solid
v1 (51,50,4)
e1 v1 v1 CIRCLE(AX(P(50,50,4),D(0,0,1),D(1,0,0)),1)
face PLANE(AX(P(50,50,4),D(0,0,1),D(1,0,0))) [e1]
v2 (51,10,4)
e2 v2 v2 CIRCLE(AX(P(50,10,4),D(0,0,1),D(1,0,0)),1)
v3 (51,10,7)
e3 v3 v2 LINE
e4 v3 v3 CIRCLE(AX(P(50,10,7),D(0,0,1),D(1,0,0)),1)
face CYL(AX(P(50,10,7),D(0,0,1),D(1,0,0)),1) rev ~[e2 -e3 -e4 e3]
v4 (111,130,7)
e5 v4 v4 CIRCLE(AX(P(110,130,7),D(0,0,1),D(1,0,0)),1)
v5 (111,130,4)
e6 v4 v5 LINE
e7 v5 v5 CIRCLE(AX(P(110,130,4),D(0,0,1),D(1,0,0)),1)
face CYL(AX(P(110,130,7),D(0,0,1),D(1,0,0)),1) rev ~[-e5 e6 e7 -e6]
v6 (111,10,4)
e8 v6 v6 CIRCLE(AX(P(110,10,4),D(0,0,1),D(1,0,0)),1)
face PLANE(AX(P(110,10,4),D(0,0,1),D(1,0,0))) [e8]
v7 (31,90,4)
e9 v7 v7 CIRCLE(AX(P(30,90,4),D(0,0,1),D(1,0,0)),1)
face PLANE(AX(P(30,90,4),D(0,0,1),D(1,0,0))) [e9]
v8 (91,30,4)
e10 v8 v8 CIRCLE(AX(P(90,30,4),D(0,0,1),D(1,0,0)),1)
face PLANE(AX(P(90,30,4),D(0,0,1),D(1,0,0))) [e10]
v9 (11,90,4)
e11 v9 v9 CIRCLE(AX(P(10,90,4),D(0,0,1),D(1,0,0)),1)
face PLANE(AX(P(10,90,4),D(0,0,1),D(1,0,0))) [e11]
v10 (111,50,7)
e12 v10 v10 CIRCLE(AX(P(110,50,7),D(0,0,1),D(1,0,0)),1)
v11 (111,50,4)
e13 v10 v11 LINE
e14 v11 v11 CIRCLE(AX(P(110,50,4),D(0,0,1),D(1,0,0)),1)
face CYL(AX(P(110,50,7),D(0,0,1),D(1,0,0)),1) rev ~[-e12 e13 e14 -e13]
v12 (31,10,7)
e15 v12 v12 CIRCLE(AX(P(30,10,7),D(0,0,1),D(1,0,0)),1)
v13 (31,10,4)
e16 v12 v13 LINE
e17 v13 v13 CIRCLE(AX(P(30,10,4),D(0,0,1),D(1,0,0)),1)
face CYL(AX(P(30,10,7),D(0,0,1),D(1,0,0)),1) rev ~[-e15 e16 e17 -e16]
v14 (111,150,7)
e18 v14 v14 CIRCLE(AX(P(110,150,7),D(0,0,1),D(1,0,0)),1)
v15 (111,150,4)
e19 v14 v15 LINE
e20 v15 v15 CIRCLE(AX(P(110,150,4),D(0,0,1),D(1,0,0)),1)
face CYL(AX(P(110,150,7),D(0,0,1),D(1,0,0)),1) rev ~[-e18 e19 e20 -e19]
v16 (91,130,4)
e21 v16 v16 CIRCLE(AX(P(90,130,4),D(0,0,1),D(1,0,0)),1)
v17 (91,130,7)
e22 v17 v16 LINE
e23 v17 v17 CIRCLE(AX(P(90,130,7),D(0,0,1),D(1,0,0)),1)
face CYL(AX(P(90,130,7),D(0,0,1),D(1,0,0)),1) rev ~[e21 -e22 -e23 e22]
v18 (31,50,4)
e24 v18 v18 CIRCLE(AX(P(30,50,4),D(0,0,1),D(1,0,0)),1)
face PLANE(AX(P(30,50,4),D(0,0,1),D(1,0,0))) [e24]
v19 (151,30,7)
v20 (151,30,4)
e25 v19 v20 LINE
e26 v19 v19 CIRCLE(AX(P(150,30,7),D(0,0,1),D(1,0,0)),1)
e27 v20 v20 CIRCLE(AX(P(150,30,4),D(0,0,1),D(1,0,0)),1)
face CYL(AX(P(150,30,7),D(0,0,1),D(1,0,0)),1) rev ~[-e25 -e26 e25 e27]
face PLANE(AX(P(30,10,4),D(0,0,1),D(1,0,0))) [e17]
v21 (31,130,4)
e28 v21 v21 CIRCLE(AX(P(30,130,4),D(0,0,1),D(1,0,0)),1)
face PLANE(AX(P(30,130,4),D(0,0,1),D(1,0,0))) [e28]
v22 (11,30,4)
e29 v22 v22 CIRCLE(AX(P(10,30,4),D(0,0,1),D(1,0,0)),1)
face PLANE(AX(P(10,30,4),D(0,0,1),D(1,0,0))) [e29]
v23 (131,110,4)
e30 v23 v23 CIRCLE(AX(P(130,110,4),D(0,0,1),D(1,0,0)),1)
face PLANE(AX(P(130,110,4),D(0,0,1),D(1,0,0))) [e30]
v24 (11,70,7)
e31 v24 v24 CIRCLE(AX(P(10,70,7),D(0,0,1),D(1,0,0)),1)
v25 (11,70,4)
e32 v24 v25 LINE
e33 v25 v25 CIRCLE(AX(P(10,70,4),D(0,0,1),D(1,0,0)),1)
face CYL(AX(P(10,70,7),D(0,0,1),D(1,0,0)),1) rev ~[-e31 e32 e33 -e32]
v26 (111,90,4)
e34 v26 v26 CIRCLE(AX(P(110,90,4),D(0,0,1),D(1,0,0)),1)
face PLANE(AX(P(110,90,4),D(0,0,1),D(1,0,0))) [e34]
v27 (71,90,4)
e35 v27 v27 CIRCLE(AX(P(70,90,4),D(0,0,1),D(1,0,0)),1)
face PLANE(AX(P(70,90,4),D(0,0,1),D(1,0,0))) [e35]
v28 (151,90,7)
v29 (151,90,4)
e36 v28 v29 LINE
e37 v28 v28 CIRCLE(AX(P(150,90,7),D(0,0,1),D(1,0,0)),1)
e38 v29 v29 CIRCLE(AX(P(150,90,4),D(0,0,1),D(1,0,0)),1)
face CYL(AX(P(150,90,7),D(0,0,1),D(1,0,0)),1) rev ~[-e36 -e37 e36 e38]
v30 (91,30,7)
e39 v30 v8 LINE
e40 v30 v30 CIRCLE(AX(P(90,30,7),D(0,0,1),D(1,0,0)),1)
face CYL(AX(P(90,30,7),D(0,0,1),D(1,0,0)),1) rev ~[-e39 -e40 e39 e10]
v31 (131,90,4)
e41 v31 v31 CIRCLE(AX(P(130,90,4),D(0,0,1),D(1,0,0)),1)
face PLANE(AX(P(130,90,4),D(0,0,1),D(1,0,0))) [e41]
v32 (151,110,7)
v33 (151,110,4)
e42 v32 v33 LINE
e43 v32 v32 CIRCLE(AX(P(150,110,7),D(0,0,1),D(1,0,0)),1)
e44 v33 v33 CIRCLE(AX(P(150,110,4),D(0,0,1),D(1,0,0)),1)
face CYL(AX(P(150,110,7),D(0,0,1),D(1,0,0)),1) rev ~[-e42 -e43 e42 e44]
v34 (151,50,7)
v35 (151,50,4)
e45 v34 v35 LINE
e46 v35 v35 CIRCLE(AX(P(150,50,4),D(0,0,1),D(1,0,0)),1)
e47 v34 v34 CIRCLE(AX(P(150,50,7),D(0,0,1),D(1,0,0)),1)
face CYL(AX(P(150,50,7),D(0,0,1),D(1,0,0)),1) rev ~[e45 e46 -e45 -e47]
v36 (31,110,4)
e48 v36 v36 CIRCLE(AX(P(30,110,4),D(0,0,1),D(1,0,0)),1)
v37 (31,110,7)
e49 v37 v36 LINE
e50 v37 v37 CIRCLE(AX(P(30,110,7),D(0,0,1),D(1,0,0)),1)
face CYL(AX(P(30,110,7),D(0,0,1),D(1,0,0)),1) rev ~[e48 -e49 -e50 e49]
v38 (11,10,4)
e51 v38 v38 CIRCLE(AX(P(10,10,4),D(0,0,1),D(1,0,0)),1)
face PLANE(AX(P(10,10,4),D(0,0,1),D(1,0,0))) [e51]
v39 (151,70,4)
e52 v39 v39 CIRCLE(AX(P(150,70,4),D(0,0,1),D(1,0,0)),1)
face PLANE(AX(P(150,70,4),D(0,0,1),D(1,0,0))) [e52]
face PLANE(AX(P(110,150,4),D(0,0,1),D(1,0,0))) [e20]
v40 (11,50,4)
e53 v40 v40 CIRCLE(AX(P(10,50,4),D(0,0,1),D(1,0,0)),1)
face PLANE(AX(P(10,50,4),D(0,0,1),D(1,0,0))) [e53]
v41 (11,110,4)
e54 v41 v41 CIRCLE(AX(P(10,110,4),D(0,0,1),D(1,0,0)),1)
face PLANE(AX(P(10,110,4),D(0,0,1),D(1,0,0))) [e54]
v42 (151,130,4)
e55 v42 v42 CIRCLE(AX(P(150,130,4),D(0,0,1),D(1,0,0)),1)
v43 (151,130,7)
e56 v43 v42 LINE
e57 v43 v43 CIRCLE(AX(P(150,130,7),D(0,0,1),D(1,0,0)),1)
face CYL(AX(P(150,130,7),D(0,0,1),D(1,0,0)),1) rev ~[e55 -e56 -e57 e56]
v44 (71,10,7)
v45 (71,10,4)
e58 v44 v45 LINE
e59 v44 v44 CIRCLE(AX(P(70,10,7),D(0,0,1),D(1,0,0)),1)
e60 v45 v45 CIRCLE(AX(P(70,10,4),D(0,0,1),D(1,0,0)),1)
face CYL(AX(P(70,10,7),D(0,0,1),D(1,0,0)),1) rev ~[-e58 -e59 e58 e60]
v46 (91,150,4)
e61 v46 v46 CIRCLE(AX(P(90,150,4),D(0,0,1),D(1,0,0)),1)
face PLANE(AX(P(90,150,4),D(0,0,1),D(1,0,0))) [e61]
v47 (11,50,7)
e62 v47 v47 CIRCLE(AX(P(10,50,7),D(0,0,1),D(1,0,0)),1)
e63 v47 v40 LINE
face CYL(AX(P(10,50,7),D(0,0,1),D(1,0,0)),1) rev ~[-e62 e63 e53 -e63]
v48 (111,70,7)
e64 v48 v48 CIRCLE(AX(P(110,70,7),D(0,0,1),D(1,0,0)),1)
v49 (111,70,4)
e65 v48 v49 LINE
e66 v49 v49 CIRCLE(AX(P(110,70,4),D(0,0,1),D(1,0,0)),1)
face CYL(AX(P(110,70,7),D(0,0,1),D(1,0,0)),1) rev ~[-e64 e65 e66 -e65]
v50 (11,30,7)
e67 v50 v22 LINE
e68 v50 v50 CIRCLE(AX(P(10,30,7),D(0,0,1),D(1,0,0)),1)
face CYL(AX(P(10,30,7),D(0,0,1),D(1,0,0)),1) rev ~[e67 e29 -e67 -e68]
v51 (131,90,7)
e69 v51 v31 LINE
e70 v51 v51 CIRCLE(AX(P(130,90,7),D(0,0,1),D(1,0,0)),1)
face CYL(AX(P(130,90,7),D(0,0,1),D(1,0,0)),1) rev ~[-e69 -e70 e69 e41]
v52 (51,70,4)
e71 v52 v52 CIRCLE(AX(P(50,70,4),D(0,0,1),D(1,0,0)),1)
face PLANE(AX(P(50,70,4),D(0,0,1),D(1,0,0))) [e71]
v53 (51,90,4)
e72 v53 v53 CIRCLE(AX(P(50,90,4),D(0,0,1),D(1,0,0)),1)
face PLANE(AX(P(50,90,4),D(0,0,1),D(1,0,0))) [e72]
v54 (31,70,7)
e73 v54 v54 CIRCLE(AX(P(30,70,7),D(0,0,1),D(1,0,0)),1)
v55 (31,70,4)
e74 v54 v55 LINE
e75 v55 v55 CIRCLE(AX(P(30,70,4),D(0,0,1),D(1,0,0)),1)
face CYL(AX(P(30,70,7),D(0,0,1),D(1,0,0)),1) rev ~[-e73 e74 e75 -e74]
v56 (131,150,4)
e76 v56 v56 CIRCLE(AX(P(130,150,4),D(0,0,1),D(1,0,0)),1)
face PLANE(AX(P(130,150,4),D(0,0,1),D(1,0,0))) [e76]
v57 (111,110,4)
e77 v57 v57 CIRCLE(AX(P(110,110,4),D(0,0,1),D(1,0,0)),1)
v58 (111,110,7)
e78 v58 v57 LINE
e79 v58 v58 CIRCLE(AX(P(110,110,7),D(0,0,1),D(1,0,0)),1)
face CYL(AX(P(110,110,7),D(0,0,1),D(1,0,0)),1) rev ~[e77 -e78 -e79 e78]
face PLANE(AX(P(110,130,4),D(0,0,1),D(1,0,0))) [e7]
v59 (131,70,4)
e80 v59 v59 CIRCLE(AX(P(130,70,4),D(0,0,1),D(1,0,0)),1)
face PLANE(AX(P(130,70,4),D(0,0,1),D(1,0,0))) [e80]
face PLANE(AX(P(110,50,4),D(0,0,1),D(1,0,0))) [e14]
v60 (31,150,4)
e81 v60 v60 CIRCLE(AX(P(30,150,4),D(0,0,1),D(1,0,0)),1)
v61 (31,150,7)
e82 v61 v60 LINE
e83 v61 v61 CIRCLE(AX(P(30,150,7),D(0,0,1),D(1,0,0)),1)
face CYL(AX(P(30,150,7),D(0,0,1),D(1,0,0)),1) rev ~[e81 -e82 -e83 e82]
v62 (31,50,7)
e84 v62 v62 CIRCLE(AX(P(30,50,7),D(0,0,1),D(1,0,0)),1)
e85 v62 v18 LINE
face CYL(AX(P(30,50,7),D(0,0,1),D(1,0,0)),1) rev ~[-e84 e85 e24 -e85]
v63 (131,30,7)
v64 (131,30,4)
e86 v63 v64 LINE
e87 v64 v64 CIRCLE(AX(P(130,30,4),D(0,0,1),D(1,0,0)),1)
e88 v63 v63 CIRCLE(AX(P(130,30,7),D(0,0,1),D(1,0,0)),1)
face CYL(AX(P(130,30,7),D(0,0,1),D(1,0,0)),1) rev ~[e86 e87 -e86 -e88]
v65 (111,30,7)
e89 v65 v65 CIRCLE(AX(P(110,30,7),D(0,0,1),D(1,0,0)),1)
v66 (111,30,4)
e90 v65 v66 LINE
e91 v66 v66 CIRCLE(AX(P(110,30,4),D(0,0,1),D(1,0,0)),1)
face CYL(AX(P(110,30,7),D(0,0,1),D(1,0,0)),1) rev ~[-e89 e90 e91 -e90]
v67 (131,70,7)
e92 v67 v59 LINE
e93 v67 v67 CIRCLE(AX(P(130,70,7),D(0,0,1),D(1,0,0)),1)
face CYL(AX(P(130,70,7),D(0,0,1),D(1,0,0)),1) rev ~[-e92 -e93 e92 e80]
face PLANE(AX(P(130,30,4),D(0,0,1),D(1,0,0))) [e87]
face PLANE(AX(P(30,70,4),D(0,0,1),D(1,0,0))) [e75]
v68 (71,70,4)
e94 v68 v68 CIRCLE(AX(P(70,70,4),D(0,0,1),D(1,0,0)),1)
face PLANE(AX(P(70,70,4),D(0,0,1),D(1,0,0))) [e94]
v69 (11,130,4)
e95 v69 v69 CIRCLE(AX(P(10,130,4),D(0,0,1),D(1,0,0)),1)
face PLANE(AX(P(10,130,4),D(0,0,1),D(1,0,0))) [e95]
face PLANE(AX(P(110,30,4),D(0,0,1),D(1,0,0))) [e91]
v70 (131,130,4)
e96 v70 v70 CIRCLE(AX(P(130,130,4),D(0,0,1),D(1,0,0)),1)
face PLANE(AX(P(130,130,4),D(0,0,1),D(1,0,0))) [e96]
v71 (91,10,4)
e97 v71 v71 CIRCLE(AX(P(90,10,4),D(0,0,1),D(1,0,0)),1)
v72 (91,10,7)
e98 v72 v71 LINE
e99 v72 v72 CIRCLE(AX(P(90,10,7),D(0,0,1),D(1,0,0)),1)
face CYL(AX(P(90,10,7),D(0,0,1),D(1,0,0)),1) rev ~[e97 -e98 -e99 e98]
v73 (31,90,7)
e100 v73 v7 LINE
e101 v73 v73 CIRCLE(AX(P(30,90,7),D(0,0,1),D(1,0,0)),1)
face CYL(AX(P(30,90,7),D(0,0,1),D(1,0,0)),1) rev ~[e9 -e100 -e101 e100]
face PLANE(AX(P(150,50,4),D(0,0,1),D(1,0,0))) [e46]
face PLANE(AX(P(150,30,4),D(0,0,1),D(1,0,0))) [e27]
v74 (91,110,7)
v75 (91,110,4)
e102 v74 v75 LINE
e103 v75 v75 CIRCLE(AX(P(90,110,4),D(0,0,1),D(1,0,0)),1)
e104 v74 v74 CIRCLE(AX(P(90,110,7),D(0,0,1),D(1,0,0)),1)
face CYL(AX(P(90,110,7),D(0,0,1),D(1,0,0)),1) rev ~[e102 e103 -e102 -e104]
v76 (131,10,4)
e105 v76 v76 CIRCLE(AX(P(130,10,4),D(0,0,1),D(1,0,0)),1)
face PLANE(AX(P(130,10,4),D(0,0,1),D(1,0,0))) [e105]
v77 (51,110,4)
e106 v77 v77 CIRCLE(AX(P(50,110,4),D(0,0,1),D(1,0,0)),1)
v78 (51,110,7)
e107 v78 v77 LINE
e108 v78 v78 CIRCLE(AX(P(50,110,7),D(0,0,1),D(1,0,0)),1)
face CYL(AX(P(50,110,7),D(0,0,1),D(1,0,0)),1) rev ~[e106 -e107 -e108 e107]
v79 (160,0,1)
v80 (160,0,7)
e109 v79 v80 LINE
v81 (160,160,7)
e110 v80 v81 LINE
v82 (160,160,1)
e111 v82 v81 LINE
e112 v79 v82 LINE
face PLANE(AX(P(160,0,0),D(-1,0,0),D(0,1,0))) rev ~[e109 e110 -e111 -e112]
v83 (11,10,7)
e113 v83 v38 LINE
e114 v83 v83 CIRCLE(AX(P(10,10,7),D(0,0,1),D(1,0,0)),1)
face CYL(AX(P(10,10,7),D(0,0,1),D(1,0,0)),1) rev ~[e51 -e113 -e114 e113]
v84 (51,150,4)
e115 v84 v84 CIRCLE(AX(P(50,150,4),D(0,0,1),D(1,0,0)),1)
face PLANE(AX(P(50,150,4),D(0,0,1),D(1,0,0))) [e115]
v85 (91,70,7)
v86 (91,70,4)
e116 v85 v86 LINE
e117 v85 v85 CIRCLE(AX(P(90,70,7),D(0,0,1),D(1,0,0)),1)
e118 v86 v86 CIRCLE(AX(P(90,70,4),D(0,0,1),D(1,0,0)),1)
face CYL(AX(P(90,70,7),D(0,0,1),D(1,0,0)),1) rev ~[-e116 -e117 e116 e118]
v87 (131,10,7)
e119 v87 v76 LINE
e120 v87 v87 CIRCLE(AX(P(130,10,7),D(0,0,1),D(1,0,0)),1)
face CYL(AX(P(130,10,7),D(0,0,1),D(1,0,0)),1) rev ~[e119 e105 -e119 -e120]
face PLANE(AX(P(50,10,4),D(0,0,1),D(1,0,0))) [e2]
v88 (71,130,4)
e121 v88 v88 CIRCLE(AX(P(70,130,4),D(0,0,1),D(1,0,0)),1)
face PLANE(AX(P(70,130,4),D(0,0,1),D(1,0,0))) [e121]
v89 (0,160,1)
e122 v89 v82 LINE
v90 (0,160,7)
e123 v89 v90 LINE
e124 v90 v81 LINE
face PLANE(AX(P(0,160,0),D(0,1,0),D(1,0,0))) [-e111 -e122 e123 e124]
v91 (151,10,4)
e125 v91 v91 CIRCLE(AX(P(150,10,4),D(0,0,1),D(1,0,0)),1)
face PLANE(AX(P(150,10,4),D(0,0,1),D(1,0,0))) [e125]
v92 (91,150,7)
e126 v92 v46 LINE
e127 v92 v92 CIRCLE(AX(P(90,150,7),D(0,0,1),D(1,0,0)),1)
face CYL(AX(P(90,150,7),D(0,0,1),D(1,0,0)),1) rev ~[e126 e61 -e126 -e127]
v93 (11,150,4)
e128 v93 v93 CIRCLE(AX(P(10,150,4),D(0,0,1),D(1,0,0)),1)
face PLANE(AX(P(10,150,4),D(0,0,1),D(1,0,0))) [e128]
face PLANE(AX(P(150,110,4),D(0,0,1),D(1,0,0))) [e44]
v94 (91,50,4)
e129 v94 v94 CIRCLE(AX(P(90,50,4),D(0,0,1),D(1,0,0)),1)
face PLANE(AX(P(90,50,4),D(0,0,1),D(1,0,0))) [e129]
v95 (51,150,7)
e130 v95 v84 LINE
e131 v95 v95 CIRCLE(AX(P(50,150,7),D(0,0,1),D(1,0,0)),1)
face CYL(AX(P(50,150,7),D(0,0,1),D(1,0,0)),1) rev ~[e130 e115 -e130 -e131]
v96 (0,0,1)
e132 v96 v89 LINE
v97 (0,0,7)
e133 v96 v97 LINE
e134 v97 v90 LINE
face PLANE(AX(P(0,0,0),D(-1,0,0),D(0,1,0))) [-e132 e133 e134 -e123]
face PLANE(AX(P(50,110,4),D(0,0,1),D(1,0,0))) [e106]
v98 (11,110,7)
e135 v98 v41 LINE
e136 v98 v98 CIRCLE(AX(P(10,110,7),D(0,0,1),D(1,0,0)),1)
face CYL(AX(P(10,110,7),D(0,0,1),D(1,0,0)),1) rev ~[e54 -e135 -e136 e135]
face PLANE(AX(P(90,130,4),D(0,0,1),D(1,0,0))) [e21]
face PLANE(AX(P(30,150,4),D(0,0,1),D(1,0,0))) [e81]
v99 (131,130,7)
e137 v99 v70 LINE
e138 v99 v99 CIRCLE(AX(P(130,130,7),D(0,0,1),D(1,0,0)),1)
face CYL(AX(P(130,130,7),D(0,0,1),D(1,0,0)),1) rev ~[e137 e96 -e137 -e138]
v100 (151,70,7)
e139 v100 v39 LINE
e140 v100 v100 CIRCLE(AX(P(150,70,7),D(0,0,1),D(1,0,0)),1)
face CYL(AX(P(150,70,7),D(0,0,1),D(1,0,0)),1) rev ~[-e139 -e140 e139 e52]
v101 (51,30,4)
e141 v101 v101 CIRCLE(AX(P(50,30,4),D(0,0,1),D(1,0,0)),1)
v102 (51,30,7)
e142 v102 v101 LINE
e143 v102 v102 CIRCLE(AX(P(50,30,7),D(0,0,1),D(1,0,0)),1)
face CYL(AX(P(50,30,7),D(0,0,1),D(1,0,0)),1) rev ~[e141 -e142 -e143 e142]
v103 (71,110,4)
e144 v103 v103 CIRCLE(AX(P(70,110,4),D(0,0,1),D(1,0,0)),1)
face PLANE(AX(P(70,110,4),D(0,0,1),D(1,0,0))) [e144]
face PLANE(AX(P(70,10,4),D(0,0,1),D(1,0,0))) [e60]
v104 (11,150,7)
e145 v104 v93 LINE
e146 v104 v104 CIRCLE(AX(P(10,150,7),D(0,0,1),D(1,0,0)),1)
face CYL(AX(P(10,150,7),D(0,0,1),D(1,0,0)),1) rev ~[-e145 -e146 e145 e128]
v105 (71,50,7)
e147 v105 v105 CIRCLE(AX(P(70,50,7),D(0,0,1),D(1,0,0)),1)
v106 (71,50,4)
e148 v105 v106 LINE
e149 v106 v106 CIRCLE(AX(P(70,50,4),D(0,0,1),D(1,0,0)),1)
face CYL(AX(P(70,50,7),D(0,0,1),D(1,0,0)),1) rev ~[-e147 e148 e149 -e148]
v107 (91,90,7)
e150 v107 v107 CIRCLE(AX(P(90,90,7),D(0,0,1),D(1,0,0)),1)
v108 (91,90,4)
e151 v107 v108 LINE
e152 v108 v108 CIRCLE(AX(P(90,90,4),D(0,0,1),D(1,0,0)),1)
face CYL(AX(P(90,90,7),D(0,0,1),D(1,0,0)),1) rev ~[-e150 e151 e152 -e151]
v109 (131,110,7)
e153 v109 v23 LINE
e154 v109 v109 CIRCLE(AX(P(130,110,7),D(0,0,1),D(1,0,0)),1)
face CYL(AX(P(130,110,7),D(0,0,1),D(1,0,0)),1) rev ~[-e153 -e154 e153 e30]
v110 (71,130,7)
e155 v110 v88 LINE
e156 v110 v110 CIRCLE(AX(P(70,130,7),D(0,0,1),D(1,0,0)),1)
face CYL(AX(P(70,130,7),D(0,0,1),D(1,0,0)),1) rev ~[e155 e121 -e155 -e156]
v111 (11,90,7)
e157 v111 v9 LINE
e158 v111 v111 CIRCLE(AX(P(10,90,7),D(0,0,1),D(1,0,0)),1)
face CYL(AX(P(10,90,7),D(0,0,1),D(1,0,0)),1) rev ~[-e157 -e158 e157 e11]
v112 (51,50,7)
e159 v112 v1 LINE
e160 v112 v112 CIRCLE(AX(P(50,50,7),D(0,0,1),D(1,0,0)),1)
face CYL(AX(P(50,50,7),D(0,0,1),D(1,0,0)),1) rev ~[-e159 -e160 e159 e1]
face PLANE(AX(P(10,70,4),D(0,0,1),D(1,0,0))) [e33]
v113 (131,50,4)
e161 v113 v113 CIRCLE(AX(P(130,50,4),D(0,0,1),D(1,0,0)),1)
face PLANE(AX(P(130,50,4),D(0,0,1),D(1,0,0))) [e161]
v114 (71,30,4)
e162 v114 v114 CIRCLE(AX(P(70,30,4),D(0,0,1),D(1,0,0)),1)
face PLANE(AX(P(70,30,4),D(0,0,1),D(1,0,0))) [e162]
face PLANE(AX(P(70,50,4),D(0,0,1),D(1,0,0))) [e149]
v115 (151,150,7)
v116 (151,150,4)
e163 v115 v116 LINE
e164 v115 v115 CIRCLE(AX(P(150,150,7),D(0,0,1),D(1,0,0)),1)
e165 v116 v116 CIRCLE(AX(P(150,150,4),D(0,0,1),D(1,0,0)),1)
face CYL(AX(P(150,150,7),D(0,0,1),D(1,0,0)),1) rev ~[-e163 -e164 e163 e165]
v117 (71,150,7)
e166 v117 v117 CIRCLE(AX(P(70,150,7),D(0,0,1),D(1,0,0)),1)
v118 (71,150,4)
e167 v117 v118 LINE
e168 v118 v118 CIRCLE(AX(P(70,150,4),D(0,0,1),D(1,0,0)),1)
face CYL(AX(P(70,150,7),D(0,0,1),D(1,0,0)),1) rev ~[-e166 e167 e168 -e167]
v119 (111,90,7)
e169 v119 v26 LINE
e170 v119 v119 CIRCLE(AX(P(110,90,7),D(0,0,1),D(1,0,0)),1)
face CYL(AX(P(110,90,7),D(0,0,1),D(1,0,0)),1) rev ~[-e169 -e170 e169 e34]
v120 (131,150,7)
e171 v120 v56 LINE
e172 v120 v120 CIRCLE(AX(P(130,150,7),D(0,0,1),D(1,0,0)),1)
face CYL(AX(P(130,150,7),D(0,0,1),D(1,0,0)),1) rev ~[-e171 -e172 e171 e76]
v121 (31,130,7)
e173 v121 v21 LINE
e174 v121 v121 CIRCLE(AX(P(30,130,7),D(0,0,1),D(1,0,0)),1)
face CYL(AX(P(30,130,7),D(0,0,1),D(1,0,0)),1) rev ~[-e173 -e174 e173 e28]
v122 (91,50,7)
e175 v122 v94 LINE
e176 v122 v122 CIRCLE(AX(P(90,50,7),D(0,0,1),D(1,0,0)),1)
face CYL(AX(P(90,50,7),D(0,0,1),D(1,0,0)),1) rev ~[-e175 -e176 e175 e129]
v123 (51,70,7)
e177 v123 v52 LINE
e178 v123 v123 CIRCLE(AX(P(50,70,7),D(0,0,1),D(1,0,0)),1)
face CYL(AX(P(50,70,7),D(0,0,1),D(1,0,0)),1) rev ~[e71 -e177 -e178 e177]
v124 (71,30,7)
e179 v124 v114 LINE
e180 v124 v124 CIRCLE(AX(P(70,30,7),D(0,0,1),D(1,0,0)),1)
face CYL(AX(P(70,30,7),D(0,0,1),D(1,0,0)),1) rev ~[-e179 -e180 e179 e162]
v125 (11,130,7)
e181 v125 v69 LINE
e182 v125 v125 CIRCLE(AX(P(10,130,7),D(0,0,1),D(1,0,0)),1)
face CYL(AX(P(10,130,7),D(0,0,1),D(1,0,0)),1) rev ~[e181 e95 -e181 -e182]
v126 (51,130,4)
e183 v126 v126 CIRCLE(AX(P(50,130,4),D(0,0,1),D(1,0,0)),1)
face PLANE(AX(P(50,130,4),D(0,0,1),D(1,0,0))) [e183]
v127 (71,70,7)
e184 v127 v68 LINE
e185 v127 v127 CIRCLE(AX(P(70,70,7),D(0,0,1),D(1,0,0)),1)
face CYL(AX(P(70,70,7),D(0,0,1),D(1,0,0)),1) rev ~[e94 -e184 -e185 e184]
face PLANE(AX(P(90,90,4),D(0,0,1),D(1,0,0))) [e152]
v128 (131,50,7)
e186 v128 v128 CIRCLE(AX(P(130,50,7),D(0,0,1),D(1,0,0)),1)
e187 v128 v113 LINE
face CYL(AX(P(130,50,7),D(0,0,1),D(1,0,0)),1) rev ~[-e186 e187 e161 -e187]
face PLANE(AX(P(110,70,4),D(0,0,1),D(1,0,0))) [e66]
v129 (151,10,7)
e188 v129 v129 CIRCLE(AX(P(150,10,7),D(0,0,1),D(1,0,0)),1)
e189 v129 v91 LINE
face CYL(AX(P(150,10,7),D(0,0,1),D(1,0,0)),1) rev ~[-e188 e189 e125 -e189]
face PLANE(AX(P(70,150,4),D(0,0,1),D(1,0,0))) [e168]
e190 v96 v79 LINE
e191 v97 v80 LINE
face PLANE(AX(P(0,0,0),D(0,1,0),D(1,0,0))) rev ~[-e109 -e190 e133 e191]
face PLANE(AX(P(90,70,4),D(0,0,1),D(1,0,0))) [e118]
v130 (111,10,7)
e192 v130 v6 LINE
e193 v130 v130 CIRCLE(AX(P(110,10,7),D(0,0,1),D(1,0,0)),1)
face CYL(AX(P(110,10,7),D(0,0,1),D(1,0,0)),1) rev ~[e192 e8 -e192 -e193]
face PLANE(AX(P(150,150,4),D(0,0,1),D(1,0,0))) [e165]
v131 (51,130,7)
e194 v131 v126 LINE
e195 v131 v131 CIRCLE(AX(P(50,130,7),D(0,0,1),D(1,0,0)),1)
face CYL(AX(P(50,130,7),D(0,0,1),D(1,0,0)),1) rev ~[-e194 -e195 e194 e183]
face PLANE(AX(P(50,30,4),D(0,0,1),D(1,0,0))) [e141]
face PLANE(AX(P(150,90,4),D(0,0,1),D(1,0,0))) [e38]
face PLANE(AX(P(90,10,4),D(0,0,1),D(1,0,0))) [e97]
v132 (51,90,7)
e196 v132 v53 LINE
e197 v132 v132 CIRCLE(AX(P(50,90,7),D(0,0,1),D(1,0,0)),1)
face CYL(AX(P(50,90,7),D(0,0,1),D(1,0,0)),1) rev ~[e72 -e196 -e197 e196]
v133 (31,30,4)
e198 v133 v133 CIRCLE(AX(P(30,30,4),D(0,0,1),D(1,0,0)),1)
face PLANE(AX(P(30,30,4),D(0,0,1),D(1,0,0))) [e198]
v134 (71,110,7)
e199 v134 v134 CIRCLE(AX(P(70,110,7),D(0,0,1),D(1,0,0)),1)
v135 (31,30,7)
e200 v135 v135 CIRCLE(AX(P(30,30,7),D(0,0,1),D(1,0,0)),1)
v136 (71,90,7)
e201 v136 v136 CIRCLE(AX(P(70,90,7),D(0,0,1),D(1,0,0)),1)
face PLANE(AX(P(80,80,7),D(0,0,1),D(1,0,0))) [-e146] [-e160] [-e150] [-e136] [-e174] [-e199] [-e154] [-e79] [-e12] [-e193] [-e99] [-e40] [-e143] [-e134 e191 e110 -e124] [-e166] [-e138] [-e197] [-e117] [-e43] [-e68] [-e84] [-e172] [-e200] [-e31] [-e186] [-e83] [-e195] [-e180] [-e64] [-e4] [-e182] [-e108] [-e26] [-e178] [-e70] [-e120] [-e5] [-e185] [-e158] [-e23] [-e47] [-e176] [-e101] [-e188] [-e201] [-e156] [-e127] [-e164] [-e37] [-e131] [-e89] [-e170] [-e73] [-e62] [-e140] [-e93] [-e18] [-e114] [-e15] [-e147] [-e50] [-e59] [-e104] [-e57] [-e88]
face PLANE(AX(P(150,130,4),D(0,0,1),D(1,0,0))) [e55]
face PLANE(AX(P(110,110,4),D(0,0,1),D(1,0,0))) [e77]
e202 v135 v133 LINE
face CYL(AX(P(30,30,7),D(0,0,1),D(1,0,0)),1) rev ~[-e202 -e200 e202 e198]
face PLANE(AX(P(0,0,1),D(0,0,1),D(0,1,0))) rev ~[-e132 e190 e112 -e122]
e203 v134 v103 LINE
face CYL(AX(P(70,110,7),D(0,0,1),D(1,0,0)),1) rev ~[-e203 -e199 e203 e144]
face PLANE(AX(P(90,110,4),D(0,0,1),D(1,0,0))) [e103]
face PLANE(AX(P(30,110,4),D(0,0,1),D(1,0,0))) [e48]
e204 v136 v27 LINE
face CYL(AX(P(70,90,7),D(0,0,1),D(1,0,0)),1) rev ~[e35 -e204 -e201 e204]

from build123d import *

# Parameters (mm, degrees)
SKETCH1_W           = 160
SKETCH1_H           = 160
BOSS_EXTRUDE1_DEPTH = 7
SKETCH2_R           = 1
CUT_EXTRUDE1_DEPTH  = 3
SKETCH7_W           = 1
SKETCH7_H           = 160
CUT_EXTRUDE2_DEPTH  = 300


with BuildPart() as part:
    # Sketch1 → Boss-Extrude1 (new body)
    with BuildSketch(Plane.XY):
        with Locations((80, 80)):
            Rectangle(SKETCH1_W, SKETCH1_H)
    extrude(amount=BOSS_EXTRUDE1_DEPTH)

    # Sketch2 → Cut-Extrude1 (cut)
    with BuildSketch(Plane.XY.offset(7)):
        with Locations((10, 150)):
            Circle(SKETCH2_R)
        with Locations((30, 150)):
            Circle(SKETCH2_R)
        with Locations((50, 150)):
            Circle(SKETCH2_R)
        with Locations((70, 150)):
            Circle(SKETCH2_R)
        with Locations((90, 150)):
            Circle(SKETCH2_R)
        with Locations((110, 150)):
            Circle(SKETCH2_R)
        with Locations((130, 150)):
            Circle(SKETCH2_R)
        with Locations((150, 150)):
            Circle(SKETCH2_R)
        with Locations((30, 130)):
            Circle(SKETCH2_R)
        with Locations((10, 130)):
            Circle(SKETCH2_R)
        with Locations((50, 130)):
            Circle(SKETCH2_R)
        with Locations((70, 130)):
            Circle(SKETCH2_R)
        with Locations((90, 130)):
            Circle(SKETCH2_R)
        with Locations((110, 130)):
            Circle(SKETCH2_R)
        with Locations((130, 130)):
            Circle(SKETCH2_R)
        with Locations((150, 130)):
            Circle(SKETCH2_R)
        with Locations((30, 110)):
            Circle(SKETCH2_R)
        with Locations((10, 110)):
            Circle(SKETCH2_R)
        with Locations((50, 110)):
            Circle(SKETCH2_R)
        with Locations((70, 110)):
            Circle(SKETCH2_R)
        with Locations((90, 110)):
            Circle(SKETCH2_R)
        with Locations((110, 110)):
            Circle(SKETCH2_R)
        with Locations((130, 110)):
            Circle(SKETCH2_R)
        with Locations((150, 110)):
            Circle(SKETCH2_R)
        with Locations((30, 90)):
            Circle(SKETCH2_R)
        with Locations((10, 90)):
            Circle(SKETCH2_R)
        with Locations((50, 90)):
            Circle(SKETCH2_R)
        with Locations((70, 90)):
            Circle(SKETCH2_R)
        with Locations((90, 90)):
            Circle(SKETCH2_R)
        with Locations((110, 90)):
            Circle(SKETCH2_R)
        with Locations((130, 90)):
            Circle(SKETCH2_R)
        with Locations((150, 90)):
            Circle(SKETCH2_R)
        with Locations((30, 70)):
            Circle(SKETCH2_R)
        with Locations((10, 70)):
            Circle(SKETCH2_R)
        with Locations((50, 70)):
            Circle(SKETCH2_R)
        with Locations((70, 70)):
            Circle(SKETCH2_R)
        with Locations((90, 70)):
            Circle(SKETCH2_R)
        with Locations((110, 70)):
            Circle(SKETCH2_R)
        with Locations((130, 70)):
            Circle(SKETCH2_R)
        with Locations((150, 70)):
            Circle(SKETCH2_R)
        with Locations((30, 50)):
            Circle(SKETCH2_R)
        with Locations((10, 50)):
            Circle(SKETCH2_R)
        with Locations((50, 50)):
            Circle(SKETCH2_R)
        with Locations((70, 50)):
            Circle(SKETCH2_R)
        with Locations((90, 50)):
            Circle(SKETCH2_R)
        with Locations((110, 50)):
            Circle(SKETCH2_R)
        with Locations((130, 50)):
            Circle(SKETCH2_R)
        with Locations((150, 50)):
            Circle(SKETCH2_R)
        with Locations((30, 30)):
            Circle(SKETCH2_R)
        with Locations((10, 30)):
            Circle(SKETCH2_R)
        with Locations((50, 30)):
            Circle(SKETCH2_R)
        with Locations((70, 30)):
            Circle(SKETCH2_R)
        with Locations((90, 30)):
            Circle(SKETCH2_R)
        with Locations((110, 30)):
            Circle(SKETCH2_R)
        with Locations((130, 30)):
            Circle(SKETCH2_R)
        with Locations((150, 30)):
            Circle(SKETCH2_R)
        with Locations((30, 10)):
            Circle(SKETCH2_R)
        with Locations((10, 10)):
            Circle(SKETCH2_R)
        with Locations((50, 10)):
            Circle(SKETCH2_R)
        with Locations((70, 10)):
            Circle(SKETCH2_R)
        with Locations((90, 10)):
            Circle(SKETCH2_R)
        with Locations((110, 10)):
            Circle(SKETCH2_R)
        with Locations((130, 10)):
            Circle(SKETCH2_R)
        with Locations((150, 10)):
            Circle(SKETCH2_R)
    extrude(amount=-CUT_EXTRUDE1_DEPTH, mode=Mode.SUBTRACT)

    # Sketch7 → Cut-Extrude2 (cut)
    with BuildSketch(Plane.ZY):
        with Locations((0.5, 80)):
            Rectangle(SKETCH7_W, SKETCH7_H)
    extrude(amount=-CUT_EXTRUDE2_DEPTH, mode=Mode.SUBTRACT)


solid = part.part
